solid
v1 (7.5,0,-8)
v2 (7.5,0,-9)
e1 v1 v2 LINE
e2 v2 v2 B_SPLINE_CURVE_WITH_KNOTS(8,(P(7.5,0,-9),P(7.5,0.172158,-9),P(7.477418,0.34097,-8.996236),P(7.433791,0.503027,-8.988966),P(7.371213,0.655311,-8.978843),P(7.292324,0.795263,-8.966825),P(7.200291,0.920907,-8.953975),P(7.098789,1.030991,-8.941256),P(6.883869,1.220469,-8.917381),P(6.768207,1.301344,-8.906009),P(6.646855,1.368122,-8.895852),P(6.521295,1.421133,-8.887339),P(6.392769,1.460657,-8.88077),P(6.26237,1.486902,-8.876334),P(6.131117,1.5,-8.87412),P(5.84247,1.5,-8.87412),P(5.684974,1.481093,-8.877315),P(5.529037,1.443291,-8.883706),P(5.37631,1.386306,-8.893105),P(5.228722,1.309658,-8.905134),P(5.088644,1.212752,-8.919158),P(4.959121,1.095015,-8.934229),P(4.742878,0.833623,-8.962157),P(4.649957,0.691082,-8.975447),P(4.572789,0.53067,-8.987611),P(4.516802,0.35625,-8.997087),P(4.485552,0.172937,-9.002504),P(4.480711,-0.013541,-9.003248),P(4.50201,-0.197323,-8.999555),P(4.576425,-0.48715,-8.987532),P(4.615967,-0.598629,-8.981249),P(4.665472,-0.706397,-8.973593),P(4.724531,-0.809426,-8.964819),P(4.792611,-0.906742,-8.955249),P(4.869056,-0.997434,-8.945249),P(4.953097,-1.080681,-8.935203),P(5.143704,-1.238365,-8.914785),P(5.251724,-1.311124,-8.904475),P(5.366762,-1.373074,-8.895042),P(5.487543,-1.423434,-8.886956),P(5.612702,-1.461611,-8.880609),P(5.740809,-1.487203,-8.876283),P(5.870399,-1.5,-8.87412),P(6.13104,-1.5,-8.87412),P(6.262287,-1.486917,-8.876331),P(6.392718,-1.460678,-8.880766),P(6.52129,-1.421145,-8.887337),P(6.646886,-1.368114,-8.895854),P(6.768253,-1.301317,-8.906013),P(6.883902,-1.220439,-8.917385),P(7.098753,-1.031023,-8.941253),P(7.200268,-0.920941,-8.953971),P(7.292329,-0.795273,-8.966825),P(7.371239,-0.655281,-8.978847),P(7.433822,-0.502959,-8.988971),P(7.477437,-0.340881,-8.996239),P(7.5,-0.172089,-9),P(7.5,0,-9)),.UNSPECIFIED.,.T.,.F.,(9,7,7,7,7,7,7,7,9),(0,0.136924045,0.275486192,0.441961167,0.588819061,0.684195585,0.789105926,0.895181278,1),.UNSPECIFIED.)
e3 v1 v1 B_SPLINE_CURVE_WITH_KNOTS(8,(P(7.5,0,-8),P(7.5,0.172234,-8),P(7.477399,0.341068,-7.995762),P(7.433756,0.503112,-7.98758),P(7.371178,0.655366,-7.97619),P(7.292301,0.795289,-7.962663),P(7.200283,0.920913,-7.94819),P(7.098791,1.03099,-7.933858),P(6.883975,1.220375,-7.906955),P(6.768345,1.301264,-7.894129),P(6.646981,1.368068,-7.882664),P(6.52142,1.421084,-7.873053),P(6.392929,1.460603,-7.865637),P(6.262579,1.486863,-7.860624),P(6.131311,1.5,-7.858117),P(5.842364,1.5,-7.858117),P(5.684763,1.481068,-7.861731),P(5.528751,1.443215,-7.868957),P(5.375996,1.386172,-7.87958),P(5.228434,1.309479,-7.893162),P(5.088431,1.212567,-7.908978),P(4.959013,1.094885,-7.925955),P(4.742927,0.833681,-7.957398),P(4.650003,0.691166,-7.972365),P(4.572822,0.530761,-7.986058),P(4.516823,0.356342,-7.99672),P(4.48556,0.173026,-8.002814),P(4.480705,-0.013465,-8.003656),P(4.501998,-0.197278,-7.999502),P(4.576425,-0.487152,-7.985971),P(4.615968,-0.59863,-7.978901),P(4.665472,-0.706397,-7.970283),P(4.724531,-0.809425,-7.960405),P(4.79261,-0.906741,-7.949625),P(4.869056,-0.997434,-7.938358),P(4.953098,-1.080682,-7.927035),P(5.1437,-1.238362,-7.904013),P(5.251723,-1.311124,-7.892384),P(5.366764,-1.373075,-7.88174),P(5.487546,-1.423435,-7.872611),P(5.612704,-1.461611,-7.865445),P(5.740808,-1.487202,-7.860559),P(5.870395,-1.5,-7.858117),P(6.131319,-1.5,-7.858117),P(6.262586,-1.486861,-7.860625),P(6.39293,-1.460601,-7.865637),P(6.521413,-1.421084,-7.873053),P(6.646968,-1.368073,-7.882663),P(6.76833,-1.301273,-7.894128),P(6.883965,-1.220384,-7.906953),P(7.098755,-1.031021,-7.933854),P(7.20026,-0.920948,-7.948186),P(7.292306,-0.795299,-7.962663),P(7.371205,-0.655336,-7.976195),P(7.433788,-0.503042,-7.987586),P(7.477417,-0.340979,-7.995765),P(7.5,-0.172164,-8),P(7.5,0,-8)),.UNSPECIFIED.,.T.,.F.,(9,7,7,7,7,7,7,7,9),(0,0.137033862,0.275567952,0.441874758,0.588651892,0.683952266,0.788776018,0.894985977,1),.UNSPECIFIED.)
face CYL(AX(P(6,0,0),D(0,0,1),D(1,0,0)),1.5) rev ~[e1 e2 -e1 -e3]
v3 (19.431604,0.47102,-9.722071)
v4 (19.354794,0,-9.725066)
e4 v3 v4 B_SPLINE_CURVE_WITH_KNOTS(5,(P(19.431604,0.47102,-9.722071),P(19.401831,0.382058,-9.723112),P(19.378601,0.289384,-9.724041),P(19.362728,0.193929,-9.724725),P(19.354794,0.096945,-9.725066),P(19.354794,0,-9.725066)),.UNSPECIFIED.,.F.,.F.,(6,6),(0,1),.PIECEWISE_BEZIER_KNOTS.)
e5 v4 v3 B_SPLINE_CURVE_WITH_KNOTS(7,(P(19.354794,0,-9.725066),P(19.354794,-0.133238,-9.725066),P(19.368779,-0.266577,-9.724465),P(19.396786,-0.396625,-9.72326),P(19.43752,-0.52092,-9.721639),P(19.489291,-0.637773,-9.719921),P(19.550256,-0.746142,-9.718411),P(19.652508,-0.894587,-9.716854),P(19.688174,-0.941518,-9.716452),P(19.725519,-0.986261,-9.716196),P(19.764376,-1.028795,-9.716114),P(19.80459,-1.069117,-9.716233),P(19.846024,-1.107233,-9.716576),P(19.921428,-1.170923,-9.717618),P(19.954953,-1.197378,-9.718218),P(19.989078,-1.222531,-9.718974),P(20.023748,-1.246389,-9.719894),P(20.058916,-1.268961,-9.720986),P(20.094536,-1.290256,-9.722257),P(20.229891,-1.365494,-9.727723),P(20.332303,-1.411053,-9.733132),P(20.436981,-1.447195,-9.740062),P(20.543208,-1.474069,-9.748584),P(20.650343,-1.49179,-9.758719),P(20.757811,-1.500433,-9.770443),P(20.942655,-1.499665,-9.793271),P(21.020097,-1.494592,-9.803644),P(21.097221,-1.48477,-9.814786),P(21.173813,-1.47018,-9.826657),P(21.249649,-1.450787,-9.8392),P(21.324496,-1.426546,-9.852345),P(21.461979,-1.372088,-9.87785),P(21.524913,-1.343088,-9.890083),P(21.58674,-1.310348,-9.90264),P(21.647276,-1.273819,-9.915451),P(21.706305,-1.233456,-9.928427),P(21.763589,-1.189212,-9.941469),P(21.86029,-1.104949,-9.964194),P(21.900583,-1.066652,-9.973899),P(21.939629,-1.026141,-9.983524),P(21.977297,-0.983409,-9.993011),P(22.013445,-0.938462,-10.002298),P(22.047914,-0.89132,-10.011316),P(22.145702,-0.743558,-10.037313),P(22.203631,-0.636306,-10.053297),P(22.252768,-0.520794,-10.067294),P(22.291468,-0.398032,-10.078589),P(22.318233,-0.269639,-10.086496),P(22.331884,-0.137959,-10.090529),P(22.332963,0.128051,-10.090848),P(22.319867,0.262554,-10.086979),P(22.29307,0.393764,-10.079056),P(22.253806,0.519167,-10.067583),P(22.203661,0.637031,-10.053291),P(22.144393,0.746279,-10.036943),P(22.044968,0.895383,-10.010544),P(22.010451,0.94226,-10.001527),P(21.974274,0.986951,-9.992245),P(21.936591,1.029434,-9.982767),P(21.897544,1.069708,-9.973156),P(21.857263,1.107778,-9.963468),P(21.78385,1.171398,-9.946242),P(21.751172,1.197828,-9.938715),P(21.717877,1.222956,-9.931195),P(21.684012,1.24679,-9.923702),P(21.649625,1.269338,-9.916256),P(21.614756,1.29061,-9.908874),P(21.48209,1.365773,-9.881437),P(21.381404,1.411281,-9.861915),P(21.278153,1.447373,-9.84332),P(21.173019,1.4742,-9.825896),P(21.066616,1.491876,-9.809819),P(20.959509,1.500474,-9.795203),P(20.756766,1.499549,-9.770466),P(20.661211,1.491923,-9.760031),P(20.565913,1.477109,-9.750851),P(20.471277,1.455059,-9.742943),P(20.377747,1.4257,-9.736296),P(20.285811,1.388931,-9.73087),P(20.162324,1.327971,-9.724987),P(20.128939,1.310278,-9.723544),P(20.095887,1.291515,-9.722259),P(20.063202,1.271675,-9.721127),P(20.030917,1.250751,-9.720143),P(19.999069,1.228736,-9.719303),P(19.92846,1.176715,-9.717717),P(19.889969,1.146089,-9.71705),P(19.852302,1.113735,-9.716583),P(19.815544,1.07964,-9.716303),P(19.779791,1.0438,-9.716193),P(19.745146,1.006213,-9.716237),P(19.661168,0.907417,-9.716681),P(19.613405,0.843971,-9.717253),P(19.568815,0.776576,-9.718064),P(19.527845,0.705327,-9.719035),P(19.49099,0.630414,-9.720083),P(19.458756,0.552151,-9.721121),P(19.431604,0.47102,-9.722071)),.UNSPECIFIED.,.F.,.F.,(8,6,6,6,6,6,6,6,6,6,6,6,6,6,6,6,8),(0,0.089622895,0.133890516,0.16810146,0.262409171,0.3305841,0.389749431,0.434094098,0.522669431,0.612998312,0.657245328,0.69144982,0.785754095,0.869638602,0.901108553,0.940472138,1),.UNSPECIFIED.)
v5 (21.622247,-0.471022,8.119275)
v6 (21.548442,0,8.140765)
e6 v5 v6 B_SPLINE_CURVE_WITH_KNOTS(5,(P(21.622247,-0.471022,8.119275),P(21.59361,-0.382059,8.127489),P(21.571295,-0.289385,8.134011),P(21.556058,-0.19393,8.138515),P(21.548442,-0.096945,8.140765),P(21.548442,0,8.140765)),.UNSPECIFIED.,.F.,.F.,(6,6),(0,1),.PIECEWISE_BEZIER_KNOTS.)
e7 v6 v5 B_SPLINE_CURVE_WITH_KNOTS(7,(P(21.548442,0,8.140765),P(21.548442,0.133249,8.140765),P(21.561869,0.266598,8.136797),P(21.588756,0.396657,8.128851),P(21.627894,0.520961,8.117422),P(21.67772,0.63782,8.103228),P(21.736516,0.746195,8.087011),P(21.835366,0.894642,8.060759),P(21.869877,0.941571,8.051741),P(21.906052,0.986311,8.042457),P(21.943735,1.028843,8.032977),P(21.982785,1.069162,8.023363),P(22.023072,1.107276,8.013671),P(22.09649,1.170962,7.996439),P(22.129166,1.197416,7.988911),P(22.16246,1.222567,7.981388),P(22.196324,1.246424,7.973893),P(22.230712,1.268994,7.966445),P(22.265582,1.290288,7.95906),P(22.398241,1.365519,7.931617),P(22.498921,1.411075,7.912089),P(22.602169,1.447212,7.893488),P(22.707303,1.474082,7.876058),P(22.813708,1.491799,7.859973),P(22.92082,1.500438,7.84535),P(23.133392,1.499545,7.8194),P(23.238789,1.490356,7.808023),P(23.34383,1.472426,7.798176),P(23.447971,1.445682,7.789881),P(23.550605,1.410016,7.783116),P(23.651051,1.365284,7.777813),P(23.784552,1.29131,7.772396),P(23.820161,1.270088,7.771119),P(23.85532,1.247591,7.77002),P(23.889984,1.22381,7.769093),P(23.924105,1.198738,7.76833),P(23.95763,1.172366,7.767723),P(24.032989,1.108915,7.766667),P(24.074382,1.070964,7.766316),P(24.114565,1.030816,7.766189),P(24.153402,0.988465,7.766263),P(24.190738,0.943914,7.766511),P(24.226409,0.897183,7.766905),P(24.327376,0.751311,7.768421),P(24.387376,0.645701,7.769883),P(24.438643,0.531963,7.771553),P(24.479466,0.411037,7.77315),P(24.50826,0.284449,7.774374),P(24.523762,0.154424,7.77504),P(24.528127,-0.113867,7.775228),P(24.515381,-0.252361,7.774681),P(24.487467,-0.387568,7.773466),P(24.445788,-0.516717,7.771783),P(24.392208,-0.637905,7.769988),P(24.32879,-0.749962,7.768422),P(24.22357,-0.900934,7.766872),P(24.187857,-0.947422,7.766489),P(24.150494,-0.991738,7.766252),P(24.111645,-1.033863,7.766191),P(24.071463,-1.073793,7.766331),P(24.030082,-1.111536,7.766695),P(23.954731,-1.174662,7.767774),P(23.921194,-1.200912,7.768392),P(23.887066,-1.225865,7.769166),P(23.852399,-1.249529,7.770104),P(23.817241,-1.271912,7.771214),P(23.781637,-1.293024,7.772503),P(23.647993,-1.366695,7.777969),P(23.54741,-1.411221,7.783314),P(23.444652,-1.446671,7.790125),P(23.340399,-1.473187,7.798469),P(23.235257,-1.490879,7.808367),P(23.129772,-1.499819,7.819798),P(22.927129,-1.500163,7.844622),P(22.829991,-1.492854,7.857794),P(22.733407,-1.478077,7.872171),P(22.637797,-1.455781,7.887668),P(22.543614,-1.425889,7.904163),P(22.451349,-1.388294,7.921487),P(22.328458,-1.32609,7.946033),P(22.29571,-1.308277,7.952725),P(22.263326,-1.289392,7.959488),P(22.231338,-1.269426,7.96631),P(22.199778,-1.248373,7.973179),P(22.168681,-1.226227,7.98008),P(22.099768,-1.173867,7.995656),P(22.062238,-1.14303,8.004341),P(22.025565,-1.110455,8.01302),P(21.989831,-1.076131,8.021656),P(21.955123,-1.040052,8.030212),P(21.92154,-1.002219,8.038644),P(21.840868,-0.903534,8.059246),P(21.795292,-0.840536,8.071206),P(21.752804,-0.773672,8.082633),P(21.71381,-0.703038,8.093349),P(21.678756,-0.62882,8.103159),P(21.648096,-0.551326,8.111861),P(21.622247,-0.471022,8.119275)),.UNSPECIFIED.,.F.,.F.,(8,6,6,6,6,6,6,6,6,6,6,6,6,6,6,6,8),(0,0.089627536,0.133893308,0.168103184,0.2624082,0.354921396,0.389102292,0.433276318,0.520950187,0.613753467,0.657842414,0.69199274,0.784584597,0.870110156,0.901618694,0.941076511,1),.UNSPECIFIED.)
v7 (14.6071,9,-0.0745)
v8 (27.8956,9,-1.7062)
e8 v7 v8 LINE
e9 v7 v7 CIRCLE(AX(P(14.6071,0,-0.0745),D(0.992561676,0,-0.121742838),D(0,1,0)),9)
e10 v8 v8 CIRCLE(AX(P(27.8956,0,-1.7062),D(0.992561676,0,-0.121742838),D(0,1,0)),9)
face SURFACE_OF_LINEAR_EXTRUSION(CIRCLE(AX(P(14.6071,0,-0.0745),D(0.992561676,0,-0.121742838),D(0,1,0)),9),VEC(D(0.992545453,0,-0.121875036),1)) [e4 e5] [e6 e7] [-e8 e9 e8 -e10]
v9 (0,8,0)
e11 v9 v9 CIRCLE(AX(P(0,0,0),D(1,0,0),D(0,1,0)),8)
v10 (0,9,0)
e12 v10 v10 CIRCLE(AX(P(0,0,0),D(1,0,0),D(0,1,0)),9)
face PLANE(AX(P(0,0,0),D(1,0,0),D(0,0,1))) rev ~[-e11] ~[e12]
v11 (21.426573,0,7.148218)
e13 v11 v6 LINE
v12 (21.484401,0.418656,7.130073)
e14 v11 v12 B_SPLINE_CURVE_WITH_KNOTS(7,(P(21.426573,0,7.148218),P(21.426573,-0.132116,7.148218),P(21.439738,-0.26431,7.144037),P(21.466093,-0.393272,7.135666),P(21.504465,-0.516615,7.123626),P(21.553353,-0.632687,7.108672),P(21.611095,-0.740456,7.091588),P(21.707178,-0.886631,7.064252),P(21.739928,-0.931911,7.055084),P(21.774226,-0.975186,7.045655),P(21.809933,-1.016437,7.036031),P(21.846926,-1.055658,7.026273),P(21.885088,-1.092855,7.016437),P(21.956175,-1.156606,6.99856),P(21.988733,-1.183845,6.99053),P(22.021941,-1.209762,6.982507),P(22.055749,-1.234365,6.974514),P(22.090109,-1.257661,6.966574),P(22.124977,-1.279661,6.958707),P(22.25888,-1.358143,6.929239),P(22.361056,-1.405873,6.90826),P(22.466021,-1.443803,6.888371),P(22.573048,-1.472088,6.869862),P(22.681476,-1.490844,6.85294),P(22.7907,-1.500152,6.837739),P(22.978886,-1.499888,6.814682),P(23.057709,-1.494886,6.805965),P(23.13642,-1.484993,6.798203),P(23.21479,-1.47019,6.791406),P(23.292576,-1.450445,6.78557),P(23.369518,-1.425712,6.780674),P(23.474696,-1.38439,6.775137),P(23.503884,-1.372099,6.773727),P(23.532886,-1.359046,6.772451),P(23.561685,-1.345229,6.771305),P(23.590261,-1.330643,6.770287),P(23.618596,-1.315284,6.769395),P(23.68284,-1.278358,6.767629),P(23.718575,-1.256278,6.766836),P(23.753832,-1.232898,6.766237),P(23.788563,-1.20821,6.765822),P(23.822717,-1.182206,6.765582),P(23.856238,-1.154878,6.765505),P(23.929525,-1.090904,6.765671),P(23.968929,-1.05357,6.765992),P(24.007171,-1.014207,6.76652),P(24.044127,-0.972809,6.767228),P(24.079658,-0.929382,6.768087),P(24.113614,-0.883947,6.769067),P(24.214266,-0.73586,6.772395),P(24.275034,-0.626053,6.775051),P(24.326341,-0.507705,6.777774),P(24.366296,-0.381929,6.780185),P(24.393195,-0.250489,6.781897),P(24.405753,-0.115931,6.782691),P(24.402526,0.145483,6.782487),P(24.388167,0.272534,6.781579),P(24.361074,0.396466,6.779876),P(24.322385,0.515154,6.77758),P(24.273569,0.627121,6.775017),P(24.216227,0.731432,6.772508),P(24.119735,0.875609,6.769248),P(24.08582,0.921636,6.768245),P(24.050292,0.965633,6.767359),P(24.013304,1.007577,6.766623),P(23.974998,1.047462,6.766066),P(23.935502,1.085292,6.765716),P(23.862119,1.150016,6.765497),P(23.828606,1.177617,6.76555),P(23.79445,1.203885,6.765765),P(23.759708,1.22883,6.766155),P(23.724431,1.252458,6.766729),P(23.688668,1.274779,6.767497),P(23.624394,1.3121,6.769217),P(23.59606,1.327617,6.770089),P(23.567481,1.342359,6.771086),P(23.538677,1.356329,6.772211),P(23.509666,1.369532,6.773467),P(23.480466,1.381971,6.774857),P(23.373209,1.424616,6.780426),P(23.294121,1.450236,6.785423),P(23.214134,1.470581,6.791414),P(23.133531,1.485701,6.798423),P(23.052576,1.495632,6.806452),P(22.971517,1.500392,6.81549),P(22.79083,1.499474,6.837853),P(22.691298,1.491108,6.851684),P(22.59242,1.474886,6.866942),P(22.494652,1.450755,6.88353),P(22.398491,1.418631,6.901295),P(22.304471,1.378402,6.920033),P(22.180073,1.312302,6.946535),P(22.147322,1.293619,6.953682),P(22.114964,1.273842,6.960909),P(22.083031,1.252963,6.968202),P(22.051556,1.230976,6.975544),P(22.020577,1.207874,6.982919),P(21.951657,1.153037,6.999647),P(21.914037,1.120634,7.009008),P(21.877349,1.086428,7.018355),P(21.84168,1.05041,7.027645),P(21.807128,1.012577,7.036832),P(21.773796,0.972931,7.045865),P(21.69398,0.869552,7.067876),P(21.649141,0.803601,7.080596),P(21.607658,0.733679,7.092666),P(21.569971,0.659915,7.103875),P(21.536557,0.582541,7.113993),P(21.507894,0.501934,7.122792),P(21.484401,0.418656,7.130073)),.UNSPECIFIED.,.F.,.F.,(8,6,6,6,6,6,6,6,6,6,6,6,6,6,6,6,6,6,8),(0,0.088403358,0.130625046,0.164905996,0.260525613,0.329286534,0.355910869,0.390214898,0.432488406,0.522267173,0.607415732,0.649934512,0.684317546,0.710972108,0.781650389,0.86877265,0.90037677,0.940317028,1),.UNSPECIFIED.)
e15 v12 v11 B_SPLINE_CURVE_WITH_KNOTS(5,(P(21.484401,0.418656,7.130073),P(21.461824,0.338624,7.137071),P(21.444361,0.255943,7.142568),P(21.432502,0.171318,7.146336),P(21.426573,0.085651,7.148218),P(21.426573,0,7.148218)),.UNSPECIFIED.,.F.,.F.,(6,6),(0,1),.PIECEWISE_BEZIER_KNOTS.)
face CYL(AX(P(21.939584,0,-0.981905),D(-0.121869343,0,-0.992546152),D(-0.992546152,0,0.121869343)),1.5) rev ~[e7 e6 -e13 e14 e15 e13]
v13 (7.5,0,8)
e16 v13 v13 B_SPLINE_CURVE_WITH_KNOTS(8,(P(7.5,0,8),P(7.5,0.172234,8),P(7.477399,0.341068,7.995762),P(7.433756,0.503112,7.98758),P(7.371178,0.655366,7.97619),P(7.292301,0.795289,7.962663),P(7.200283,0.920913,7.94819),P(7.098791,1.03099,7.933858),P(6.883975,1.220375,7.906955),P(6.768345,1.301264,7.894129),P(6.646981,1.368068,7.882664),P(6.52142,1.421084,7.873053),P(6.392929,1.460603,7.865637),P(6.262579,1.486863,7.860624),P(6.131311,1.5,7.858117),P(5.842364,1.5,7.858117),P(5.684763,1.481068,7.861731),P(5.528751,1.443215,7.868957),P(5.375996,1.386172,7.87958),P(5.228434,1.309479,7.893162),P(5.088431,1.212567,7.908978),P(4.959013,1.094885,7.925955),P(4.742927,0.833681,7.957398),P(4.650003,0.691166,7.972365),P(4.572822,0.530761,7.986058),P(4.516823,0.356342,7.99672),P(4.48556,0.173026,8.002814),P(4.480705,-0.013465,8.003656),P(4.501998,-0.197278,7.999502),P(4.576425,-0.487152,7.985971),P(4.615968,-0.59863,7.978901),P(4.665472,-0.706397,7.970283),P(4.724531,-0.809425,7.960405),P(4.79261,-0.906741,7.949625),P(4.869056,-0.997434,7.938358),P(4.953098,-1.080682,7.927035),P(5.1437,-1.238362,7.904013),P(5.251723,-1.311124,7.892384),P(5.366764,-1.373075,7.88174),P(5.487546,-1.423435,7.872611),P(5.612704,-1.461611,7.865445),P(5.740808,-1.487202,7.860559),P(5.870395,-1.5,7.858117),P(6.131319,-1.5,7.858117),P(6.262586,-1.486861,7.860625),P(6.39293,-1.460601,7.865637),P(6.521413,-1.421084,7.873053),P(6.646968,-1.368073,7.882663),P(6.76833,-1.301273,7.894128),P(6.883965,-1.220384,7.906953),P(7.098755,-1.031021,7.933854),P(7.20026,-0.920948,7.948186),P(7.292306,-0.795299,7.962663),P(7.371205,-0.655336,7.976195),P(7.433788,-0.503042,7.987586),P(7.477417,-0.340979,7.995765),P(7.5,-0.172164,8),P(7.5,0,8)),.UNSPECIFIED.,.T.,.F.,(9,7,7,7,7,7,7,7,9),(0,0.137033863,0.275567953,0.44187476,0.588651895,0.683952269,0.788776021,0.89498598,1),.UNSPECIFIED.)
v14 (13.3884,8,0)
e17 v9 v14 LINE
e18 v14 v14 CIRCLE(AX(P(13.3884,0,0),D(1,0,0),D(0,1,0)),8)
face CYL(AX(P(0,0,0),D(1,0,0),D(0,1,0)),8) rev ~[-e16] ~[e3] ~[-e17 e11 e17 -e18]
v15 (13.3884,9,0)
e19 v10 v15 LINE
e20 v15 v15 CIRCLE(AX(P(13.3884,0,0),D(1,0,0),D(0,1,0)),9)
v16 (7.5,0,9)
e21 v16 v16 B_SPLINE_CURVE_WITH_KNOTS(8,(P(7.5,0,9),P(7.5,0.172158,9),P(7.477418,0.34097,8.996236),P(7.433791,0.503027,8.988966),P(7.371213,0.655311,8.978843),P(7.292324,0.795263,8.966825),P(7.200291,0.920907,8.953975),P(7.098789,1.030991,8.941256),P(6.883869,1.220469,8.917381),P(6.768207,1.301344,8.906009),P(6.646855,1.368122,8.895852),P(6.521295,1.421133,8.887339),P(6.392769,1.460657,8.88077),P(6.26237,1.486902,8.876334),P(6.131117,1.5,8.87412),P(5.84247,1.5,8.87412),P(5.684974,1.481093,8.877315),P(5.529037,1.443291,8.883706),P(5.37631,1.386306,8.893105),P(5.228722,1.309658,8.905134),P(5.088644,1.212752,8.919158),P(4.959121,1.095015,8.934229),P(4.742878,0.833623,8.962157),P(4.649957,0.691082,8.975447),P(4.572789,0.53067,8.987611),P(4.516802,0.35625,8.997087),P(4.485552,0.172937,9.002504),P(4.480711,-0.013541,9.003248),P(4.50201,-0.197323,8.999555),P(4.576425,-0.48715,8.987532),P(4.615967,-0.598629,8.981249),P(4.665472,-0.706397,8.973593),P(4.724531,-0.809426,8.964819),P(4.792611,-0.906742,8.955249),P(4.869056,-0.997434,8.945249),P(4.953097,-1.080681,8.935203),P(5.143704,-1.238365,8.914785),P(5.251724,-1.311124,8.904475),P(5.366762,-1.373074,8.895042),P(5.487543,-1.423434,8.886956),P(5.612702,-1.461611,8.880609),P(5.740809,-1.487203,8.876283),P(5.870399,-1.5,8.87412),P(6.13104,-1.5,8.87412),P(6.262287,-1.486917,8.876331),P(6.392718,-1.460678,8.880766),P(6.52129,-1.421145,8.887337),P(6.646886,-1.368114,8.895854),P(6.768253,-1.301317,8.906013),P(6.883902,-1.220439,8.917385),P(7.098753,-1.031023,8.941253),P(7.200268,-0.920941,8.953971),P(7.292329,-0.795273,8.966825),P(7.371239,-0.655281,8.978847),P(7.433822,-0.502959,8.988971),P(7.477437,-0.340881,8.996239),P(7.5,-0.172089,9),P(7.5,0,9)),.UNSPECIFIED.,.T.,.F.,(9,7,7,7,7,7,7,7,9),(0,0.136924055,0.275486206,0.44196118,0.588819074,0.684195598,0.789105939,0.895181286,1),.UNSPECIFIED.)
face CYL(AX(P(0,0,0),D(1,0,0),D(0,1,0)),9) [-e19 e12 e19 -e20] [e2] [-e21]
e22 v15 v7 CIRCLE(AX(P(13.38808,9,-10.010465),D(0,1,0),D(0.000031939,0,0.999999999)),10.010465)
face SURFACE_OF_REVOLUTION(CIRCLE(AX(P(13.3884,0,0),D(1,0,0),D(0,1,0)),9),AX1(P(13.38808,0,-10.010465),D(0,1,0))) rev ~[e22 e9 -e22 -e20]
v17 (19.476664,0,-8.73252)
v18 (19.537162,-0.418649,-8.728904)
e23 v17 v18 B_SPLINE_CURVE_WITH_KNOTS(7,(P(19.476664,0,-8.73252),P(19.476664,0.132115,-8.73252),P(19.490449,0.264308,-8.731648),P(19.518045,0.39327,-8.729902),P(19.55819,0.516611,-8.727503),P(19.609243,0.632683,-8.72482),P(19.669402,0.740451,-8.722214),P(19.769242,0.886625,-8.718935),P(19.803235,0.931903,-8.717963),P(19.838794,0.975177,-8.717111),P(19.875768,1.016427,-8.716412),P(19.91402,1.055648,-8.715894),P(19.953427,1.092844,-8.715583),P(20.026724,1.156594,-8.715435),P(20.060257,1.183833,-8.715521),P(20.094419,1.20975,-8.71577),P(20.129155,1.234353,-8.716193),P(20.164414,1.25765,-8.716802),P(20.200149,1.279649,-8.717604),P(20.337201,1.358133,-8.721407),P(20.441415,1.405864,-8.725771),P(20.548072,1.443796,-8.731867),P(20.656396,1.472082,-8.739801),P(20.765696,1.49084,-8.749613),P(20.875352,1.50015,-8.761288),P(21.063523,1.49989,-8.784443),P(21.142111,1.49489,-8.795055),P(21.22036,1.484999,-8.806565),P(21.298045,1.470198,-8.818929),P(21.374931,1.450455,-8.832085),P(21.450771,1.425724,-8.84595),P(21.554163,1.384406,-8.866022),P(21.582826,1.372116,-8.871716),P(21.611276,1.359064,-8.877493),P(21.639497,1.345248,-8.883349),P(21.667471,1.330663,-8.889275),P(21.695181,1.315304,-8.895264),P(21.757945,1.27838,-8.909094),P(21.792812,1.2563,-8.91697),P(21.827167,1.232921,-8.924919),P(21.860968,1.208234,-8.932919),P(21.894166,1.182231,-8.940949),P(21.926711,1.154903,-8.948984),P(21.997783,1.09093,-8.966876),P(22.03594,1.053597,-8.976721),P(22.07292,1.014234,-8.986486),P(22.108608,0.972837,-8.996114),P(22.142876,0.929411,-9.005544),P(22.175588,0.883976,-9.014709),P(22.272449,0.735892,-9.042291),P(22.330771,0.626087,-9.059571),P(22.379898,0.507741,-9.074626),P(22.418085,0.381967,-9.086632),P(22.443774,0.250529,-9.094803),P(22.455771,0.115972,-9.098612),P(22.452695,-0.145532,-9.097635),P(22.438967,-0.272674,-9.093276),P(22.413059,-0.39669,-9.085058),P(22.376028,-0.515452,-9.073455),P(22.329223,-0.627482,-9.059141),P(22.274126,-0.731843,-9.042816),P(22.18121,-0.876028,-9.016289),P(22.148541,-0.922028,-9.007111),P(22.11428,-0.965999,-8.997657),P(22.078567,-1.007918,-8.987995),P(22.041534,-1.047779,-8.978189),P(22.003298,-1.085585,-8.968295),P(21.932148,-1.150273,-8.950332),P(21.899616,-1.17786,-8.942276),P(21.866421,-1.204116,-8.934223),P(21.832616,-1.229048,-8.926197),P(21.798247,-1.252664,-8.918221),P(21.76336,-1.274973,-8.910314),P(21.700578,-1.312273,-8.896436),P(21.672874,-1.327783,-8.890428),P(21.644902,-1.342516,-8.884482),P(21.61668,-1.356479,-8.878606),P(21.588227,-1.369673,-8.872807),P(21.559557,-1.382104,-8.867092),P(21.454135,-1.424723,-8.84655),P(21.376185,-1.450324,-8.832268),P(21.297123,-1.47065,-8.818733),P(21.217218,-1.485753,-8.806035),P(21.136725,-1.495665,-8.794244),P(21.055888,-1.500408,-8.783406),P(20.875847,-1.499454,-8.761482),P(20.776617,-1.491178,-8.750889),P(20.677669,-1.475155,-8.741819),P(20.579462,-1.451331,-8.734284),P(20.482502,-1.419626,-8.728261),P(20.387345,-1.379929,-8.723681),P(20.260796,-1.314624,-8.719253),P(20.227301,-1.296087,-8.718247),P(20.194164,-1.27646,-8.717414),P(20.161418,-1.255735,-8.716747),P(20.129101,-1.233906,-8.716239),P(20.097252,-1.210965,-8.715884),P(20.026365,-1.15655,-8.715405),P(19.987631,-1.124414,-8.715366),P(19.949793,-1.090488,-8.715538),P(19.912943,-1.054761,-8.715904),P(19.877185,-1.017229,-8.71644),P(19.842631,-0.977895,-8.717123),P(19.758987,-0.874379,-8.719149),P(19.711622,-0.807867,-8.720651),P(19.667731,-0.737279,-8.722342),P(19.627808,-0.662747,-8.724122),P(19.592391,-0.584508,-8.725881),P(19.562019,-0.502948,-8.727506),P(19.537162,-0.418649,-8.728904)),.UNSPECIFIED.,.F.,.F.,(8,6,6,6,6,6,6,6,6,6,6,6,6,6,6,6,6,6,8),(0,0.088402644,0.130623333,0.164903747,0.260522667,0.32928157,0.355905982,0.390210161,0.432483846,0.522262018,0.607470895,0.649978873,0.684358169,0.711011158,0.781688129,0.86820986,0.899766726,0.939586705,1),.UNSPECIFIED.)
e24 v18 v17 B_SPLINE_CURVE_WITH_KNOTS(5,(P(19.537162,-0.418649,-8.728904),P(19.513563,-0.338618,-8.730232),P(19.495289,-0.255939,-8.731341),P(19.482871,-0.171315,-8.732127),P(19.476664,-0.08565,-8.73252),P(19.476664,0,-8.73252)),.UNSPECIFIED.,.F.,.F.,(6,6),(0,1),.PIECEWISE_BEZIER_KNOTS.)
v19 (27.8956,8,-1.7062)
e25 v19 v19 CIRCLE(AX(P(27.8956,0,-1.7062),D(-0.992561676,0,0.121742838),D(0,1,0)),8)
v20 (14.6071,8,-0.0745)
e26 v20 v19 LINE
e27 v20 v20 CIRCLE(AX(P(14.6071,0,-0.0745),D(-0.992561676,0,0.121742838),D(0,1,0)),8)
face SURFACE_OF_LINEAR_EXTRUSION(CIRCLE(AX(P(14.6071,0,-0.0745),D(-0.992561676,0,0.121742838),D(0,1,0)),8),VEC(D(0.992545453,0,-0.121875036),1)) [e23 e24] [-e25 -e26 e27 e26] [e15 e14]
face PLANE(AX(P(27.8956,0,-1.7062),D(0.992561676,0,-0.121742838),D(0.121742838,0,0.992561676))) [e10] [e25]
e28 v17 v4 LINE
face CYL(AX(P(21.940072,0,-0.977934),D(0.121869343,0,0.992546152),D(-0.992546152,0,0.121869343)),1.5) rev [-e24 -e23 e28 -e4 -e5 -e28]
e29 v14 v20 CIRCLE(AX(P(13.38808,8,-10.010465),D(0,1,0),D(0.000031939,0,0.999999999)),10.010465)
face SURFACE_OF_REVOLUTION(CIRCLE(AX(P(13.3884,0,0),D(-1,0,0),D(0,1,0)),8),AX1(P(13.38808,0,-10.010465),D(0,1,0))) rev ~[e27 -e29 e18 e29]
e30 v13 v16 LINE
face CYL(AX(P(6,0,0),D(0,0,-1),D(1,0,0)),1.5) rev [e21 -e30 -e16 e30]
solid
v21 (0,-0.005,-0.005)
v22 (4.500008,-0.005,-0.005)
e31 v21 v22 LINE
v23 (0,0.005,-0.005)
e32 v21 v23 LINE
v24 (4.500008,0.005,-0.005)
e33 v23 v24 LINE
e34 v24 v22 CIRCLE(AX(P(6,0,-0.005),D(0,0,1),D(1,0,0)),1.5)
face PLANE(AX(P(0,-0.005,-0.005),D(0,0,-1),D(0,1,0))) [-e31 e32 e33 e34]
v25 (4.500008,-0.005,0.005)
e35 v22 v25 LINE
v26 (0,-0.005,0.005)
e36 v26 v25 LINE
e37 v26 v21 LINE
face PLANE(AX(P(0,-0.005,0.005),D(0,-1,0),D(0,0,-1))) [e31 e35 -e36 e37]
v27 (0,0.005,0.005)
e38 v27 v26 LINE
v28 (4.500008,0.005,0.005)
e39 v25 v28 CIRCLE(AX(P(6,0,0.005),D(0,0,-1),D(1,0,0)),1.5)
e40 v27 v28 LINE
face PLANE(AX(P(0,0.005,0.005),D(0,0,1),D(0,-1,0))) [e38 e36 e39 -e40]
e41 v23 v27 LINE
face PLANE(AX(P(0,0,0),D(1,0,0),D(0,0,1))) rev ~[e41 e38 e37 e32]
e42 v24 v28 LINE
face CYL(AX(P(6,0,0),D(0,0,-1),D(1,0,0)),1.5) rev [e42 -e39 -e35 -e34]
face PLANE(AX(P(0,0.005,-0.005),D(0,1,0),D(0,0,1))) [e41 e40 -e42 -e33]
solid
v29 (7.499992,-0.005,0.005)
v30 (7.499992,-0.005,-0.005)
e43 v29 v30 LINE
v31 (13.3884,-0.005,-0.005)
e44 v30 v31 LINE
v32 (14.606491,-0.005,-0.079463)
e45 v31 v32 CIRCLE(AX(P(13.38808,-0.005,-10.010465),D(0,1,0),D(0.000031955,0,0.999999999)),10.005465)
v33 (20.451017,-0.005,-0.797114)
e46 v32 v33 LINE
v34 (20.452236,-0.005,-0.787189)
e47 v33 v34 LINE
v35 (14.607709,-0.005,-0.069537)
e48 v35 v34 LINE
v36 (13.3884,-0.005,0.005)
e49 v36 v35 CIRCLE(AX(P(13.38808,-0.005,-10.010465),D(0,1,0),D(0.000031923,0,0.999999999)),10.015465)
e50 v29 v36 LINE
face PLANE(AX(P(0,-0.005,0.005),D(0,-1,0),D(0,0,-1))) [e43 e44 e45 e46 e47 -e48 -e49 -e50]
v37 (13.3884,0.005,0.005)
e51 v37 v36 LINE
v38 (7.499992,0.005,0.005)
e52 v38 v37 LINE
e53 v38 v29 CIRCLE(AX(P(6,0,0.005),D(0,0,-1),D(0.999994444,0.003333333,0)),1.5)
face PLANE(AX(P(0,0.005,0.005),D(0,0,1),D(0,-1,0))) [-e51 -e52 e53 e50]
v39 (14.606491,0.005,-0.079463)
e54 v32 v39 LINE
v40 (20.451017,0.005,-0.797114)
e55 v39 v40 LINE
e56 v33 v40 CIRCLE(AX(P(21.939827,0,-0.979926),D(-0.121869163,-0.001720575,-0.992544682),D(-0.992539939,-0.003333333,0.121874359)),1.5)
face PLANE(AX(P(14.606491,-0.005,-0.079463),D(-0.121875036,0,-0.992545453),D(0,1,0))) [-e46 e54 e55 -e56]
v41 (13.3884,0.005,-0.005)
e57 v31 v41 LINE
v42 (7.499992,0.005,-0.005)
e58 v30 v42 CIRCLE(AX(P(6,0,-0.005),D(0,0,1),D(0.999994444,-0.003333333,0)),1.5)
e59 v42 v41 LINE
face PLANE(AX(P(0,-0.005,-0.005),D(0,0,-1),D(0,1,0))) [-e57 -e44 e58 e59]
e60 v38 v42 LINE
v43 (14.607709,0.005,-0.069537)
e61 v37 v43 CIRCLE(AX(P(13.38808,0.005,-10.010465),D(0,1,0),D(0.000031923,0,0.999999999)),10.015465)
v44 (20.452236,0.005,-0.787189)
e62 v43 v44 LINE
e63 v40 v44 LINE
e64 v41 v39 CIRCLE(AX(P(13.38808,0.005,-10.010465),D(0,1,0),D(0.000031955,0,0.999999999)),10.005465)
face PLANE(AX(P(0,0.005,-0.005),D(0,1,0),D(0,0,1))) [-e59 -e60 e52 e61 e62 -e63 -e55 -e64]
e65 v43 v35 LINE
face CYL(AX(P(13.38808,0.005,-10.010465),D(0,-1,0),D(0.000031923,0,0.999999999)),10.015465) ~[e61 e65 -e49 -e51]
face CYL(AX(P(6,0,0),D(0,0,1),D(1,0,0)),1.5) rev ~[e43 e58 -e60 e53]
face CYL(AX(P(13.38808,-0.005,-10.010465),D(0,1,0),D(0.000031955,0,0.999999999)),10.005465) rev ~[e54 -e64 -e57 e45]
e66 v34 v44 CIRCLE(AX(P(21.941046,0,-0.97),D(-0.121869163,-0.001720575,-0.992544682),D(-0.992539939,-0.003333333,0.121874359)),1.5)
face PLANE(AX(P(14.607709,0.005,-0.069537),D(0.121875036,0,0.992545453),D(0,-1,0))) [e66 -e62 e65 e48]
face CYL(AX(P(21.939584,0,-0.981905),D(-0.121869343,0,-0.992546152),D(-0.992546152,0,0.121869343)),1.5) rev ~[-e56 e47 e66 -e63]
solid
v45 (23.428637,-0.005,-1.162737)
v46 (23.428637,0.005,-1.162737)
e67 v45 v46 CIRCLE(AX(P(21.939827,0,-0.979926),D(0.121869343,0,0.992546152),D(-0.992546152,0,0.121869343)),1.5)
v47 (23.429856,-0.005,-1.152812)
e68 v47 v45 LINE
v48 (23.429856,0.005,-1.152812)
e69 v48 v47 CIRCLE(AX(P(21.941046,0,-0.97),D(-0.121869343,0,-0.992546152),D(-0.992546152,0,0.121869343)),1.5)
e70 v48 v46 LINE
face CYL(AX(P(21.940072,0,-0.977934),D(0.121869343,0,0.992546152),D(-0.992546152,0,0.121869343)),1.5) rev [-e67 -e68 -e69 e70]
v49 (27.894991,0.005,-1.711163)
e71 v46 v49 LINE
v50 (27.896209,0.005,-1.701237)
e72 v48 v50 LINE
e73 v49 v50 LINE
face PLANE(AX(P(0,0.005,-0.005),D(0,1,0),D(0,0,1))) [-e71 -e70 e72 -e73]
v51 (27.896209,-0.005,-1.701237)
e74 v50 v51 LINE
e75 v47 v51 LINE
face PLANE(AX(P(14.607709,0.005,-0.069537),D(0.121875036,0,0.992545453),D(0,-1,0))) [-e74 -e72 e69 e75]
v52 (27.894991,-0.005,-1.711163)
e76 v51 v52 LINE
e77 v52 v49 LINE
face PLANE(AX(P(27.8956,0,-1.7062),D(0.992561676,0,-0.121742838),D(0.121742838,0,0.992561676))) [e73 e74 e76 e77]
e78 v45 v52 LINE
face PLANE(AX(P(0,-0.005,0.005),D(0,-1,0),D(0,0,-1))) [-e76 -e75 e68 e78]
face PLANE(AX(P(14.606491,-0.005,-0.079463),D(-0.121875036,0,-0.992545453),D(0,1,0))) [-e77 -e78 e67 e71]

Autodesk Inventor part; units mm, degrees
ref_plane "YZ Plane" through (0, 0, 0) normal (1, 0, 0) x (0, 1, 0)
ref_plane "XZ Plane" through (0, 0, 0) normal (0, 1, 0) x (-1, 0, 0)
ref_plane "XY Plane" through (0, 0, 0) normal (0, 0, 1) x (1, 0, 0)
sketch "Sketch5" plane through (0, 0, 0) normal (0, 1, 0) x (-1, 0, 0)
  line L0 (0, 0) -> (-13.3884, 0)
  line L1 (-14.6071, -0.0745) -> (-27.8956, -1.7062)
  arc A0 (-13.3884, 0) -> (-14.6071, -0.0745) centre (-13.3884, -10) ccw
  point P0 (-14, 0)
  dimension "d122" = 14
  dimension "d123" = 14
  dimension "d124" = 173
  dimension "d125" = 10
sketch "Sketch6" plane through (0, 0, 0) normal (1, 0, 0) x (0, 1, 0)
  circle A0 centre (0, 0) radius 8
  circle A1 centre (0, 0) radius 9
  line L0 (-0.005, -0.005) -> (0.005, -0.005)
  line L1 (0.005, -0.005) -> (0.005, 0.005)
  line L2 (0.005, 0.005) -> (-0.005, 0.005)
  line L3 (-0.005, 0.005) -> (-0.005, -0.005)
  line L4 (-0.005, -0.005) -> (0.005, 0.005) construction
  line L5 (0.005, -0.005) -> (-0.005, 0.005) construction
  dimension "d126" = 16
  dimension "d127" = 18
  dimension "d138" = 0.01
  dimension "d139" = 0.01
sweep "Sweep1" add profiles "Sketch6" path "Sketch5"
sketch "Sketch7" plane through (0, 0, 0) normal (0, 0, 1) x (1, 0, 0)
  line L0 (0, 0) -> (6, 0) construction
  circle A0 centre (6, 0) radius 1.5
  dimension "d130" = 6
  dimension "d131" = 3
extrude "Extrusion8" cut sketch "Sketch7" along normal mid plane 25
sketch "Sketch8" plane through (14.6065, -0.005, -0.0795) normal (-0.1219, 0, -0.9925) x (-0.9925, 0, 0.1219)
  line L0 (-13.3884, 0) -> (-13.3884, 0.01) projected
  line L1 (-13.3884, 0.005) -> (-7.3884, 0.005) construction
  circle A0 centre (-7.3884, 0.005) radius 1.5
  point P0 (14.5073, 0.005)
  dimension "d134" = 6
  dimension "d135" = 3
extrude "Extrusion9" cut sketch "Sketch8" along normal mid plane 25
properties part number "airfoil"
